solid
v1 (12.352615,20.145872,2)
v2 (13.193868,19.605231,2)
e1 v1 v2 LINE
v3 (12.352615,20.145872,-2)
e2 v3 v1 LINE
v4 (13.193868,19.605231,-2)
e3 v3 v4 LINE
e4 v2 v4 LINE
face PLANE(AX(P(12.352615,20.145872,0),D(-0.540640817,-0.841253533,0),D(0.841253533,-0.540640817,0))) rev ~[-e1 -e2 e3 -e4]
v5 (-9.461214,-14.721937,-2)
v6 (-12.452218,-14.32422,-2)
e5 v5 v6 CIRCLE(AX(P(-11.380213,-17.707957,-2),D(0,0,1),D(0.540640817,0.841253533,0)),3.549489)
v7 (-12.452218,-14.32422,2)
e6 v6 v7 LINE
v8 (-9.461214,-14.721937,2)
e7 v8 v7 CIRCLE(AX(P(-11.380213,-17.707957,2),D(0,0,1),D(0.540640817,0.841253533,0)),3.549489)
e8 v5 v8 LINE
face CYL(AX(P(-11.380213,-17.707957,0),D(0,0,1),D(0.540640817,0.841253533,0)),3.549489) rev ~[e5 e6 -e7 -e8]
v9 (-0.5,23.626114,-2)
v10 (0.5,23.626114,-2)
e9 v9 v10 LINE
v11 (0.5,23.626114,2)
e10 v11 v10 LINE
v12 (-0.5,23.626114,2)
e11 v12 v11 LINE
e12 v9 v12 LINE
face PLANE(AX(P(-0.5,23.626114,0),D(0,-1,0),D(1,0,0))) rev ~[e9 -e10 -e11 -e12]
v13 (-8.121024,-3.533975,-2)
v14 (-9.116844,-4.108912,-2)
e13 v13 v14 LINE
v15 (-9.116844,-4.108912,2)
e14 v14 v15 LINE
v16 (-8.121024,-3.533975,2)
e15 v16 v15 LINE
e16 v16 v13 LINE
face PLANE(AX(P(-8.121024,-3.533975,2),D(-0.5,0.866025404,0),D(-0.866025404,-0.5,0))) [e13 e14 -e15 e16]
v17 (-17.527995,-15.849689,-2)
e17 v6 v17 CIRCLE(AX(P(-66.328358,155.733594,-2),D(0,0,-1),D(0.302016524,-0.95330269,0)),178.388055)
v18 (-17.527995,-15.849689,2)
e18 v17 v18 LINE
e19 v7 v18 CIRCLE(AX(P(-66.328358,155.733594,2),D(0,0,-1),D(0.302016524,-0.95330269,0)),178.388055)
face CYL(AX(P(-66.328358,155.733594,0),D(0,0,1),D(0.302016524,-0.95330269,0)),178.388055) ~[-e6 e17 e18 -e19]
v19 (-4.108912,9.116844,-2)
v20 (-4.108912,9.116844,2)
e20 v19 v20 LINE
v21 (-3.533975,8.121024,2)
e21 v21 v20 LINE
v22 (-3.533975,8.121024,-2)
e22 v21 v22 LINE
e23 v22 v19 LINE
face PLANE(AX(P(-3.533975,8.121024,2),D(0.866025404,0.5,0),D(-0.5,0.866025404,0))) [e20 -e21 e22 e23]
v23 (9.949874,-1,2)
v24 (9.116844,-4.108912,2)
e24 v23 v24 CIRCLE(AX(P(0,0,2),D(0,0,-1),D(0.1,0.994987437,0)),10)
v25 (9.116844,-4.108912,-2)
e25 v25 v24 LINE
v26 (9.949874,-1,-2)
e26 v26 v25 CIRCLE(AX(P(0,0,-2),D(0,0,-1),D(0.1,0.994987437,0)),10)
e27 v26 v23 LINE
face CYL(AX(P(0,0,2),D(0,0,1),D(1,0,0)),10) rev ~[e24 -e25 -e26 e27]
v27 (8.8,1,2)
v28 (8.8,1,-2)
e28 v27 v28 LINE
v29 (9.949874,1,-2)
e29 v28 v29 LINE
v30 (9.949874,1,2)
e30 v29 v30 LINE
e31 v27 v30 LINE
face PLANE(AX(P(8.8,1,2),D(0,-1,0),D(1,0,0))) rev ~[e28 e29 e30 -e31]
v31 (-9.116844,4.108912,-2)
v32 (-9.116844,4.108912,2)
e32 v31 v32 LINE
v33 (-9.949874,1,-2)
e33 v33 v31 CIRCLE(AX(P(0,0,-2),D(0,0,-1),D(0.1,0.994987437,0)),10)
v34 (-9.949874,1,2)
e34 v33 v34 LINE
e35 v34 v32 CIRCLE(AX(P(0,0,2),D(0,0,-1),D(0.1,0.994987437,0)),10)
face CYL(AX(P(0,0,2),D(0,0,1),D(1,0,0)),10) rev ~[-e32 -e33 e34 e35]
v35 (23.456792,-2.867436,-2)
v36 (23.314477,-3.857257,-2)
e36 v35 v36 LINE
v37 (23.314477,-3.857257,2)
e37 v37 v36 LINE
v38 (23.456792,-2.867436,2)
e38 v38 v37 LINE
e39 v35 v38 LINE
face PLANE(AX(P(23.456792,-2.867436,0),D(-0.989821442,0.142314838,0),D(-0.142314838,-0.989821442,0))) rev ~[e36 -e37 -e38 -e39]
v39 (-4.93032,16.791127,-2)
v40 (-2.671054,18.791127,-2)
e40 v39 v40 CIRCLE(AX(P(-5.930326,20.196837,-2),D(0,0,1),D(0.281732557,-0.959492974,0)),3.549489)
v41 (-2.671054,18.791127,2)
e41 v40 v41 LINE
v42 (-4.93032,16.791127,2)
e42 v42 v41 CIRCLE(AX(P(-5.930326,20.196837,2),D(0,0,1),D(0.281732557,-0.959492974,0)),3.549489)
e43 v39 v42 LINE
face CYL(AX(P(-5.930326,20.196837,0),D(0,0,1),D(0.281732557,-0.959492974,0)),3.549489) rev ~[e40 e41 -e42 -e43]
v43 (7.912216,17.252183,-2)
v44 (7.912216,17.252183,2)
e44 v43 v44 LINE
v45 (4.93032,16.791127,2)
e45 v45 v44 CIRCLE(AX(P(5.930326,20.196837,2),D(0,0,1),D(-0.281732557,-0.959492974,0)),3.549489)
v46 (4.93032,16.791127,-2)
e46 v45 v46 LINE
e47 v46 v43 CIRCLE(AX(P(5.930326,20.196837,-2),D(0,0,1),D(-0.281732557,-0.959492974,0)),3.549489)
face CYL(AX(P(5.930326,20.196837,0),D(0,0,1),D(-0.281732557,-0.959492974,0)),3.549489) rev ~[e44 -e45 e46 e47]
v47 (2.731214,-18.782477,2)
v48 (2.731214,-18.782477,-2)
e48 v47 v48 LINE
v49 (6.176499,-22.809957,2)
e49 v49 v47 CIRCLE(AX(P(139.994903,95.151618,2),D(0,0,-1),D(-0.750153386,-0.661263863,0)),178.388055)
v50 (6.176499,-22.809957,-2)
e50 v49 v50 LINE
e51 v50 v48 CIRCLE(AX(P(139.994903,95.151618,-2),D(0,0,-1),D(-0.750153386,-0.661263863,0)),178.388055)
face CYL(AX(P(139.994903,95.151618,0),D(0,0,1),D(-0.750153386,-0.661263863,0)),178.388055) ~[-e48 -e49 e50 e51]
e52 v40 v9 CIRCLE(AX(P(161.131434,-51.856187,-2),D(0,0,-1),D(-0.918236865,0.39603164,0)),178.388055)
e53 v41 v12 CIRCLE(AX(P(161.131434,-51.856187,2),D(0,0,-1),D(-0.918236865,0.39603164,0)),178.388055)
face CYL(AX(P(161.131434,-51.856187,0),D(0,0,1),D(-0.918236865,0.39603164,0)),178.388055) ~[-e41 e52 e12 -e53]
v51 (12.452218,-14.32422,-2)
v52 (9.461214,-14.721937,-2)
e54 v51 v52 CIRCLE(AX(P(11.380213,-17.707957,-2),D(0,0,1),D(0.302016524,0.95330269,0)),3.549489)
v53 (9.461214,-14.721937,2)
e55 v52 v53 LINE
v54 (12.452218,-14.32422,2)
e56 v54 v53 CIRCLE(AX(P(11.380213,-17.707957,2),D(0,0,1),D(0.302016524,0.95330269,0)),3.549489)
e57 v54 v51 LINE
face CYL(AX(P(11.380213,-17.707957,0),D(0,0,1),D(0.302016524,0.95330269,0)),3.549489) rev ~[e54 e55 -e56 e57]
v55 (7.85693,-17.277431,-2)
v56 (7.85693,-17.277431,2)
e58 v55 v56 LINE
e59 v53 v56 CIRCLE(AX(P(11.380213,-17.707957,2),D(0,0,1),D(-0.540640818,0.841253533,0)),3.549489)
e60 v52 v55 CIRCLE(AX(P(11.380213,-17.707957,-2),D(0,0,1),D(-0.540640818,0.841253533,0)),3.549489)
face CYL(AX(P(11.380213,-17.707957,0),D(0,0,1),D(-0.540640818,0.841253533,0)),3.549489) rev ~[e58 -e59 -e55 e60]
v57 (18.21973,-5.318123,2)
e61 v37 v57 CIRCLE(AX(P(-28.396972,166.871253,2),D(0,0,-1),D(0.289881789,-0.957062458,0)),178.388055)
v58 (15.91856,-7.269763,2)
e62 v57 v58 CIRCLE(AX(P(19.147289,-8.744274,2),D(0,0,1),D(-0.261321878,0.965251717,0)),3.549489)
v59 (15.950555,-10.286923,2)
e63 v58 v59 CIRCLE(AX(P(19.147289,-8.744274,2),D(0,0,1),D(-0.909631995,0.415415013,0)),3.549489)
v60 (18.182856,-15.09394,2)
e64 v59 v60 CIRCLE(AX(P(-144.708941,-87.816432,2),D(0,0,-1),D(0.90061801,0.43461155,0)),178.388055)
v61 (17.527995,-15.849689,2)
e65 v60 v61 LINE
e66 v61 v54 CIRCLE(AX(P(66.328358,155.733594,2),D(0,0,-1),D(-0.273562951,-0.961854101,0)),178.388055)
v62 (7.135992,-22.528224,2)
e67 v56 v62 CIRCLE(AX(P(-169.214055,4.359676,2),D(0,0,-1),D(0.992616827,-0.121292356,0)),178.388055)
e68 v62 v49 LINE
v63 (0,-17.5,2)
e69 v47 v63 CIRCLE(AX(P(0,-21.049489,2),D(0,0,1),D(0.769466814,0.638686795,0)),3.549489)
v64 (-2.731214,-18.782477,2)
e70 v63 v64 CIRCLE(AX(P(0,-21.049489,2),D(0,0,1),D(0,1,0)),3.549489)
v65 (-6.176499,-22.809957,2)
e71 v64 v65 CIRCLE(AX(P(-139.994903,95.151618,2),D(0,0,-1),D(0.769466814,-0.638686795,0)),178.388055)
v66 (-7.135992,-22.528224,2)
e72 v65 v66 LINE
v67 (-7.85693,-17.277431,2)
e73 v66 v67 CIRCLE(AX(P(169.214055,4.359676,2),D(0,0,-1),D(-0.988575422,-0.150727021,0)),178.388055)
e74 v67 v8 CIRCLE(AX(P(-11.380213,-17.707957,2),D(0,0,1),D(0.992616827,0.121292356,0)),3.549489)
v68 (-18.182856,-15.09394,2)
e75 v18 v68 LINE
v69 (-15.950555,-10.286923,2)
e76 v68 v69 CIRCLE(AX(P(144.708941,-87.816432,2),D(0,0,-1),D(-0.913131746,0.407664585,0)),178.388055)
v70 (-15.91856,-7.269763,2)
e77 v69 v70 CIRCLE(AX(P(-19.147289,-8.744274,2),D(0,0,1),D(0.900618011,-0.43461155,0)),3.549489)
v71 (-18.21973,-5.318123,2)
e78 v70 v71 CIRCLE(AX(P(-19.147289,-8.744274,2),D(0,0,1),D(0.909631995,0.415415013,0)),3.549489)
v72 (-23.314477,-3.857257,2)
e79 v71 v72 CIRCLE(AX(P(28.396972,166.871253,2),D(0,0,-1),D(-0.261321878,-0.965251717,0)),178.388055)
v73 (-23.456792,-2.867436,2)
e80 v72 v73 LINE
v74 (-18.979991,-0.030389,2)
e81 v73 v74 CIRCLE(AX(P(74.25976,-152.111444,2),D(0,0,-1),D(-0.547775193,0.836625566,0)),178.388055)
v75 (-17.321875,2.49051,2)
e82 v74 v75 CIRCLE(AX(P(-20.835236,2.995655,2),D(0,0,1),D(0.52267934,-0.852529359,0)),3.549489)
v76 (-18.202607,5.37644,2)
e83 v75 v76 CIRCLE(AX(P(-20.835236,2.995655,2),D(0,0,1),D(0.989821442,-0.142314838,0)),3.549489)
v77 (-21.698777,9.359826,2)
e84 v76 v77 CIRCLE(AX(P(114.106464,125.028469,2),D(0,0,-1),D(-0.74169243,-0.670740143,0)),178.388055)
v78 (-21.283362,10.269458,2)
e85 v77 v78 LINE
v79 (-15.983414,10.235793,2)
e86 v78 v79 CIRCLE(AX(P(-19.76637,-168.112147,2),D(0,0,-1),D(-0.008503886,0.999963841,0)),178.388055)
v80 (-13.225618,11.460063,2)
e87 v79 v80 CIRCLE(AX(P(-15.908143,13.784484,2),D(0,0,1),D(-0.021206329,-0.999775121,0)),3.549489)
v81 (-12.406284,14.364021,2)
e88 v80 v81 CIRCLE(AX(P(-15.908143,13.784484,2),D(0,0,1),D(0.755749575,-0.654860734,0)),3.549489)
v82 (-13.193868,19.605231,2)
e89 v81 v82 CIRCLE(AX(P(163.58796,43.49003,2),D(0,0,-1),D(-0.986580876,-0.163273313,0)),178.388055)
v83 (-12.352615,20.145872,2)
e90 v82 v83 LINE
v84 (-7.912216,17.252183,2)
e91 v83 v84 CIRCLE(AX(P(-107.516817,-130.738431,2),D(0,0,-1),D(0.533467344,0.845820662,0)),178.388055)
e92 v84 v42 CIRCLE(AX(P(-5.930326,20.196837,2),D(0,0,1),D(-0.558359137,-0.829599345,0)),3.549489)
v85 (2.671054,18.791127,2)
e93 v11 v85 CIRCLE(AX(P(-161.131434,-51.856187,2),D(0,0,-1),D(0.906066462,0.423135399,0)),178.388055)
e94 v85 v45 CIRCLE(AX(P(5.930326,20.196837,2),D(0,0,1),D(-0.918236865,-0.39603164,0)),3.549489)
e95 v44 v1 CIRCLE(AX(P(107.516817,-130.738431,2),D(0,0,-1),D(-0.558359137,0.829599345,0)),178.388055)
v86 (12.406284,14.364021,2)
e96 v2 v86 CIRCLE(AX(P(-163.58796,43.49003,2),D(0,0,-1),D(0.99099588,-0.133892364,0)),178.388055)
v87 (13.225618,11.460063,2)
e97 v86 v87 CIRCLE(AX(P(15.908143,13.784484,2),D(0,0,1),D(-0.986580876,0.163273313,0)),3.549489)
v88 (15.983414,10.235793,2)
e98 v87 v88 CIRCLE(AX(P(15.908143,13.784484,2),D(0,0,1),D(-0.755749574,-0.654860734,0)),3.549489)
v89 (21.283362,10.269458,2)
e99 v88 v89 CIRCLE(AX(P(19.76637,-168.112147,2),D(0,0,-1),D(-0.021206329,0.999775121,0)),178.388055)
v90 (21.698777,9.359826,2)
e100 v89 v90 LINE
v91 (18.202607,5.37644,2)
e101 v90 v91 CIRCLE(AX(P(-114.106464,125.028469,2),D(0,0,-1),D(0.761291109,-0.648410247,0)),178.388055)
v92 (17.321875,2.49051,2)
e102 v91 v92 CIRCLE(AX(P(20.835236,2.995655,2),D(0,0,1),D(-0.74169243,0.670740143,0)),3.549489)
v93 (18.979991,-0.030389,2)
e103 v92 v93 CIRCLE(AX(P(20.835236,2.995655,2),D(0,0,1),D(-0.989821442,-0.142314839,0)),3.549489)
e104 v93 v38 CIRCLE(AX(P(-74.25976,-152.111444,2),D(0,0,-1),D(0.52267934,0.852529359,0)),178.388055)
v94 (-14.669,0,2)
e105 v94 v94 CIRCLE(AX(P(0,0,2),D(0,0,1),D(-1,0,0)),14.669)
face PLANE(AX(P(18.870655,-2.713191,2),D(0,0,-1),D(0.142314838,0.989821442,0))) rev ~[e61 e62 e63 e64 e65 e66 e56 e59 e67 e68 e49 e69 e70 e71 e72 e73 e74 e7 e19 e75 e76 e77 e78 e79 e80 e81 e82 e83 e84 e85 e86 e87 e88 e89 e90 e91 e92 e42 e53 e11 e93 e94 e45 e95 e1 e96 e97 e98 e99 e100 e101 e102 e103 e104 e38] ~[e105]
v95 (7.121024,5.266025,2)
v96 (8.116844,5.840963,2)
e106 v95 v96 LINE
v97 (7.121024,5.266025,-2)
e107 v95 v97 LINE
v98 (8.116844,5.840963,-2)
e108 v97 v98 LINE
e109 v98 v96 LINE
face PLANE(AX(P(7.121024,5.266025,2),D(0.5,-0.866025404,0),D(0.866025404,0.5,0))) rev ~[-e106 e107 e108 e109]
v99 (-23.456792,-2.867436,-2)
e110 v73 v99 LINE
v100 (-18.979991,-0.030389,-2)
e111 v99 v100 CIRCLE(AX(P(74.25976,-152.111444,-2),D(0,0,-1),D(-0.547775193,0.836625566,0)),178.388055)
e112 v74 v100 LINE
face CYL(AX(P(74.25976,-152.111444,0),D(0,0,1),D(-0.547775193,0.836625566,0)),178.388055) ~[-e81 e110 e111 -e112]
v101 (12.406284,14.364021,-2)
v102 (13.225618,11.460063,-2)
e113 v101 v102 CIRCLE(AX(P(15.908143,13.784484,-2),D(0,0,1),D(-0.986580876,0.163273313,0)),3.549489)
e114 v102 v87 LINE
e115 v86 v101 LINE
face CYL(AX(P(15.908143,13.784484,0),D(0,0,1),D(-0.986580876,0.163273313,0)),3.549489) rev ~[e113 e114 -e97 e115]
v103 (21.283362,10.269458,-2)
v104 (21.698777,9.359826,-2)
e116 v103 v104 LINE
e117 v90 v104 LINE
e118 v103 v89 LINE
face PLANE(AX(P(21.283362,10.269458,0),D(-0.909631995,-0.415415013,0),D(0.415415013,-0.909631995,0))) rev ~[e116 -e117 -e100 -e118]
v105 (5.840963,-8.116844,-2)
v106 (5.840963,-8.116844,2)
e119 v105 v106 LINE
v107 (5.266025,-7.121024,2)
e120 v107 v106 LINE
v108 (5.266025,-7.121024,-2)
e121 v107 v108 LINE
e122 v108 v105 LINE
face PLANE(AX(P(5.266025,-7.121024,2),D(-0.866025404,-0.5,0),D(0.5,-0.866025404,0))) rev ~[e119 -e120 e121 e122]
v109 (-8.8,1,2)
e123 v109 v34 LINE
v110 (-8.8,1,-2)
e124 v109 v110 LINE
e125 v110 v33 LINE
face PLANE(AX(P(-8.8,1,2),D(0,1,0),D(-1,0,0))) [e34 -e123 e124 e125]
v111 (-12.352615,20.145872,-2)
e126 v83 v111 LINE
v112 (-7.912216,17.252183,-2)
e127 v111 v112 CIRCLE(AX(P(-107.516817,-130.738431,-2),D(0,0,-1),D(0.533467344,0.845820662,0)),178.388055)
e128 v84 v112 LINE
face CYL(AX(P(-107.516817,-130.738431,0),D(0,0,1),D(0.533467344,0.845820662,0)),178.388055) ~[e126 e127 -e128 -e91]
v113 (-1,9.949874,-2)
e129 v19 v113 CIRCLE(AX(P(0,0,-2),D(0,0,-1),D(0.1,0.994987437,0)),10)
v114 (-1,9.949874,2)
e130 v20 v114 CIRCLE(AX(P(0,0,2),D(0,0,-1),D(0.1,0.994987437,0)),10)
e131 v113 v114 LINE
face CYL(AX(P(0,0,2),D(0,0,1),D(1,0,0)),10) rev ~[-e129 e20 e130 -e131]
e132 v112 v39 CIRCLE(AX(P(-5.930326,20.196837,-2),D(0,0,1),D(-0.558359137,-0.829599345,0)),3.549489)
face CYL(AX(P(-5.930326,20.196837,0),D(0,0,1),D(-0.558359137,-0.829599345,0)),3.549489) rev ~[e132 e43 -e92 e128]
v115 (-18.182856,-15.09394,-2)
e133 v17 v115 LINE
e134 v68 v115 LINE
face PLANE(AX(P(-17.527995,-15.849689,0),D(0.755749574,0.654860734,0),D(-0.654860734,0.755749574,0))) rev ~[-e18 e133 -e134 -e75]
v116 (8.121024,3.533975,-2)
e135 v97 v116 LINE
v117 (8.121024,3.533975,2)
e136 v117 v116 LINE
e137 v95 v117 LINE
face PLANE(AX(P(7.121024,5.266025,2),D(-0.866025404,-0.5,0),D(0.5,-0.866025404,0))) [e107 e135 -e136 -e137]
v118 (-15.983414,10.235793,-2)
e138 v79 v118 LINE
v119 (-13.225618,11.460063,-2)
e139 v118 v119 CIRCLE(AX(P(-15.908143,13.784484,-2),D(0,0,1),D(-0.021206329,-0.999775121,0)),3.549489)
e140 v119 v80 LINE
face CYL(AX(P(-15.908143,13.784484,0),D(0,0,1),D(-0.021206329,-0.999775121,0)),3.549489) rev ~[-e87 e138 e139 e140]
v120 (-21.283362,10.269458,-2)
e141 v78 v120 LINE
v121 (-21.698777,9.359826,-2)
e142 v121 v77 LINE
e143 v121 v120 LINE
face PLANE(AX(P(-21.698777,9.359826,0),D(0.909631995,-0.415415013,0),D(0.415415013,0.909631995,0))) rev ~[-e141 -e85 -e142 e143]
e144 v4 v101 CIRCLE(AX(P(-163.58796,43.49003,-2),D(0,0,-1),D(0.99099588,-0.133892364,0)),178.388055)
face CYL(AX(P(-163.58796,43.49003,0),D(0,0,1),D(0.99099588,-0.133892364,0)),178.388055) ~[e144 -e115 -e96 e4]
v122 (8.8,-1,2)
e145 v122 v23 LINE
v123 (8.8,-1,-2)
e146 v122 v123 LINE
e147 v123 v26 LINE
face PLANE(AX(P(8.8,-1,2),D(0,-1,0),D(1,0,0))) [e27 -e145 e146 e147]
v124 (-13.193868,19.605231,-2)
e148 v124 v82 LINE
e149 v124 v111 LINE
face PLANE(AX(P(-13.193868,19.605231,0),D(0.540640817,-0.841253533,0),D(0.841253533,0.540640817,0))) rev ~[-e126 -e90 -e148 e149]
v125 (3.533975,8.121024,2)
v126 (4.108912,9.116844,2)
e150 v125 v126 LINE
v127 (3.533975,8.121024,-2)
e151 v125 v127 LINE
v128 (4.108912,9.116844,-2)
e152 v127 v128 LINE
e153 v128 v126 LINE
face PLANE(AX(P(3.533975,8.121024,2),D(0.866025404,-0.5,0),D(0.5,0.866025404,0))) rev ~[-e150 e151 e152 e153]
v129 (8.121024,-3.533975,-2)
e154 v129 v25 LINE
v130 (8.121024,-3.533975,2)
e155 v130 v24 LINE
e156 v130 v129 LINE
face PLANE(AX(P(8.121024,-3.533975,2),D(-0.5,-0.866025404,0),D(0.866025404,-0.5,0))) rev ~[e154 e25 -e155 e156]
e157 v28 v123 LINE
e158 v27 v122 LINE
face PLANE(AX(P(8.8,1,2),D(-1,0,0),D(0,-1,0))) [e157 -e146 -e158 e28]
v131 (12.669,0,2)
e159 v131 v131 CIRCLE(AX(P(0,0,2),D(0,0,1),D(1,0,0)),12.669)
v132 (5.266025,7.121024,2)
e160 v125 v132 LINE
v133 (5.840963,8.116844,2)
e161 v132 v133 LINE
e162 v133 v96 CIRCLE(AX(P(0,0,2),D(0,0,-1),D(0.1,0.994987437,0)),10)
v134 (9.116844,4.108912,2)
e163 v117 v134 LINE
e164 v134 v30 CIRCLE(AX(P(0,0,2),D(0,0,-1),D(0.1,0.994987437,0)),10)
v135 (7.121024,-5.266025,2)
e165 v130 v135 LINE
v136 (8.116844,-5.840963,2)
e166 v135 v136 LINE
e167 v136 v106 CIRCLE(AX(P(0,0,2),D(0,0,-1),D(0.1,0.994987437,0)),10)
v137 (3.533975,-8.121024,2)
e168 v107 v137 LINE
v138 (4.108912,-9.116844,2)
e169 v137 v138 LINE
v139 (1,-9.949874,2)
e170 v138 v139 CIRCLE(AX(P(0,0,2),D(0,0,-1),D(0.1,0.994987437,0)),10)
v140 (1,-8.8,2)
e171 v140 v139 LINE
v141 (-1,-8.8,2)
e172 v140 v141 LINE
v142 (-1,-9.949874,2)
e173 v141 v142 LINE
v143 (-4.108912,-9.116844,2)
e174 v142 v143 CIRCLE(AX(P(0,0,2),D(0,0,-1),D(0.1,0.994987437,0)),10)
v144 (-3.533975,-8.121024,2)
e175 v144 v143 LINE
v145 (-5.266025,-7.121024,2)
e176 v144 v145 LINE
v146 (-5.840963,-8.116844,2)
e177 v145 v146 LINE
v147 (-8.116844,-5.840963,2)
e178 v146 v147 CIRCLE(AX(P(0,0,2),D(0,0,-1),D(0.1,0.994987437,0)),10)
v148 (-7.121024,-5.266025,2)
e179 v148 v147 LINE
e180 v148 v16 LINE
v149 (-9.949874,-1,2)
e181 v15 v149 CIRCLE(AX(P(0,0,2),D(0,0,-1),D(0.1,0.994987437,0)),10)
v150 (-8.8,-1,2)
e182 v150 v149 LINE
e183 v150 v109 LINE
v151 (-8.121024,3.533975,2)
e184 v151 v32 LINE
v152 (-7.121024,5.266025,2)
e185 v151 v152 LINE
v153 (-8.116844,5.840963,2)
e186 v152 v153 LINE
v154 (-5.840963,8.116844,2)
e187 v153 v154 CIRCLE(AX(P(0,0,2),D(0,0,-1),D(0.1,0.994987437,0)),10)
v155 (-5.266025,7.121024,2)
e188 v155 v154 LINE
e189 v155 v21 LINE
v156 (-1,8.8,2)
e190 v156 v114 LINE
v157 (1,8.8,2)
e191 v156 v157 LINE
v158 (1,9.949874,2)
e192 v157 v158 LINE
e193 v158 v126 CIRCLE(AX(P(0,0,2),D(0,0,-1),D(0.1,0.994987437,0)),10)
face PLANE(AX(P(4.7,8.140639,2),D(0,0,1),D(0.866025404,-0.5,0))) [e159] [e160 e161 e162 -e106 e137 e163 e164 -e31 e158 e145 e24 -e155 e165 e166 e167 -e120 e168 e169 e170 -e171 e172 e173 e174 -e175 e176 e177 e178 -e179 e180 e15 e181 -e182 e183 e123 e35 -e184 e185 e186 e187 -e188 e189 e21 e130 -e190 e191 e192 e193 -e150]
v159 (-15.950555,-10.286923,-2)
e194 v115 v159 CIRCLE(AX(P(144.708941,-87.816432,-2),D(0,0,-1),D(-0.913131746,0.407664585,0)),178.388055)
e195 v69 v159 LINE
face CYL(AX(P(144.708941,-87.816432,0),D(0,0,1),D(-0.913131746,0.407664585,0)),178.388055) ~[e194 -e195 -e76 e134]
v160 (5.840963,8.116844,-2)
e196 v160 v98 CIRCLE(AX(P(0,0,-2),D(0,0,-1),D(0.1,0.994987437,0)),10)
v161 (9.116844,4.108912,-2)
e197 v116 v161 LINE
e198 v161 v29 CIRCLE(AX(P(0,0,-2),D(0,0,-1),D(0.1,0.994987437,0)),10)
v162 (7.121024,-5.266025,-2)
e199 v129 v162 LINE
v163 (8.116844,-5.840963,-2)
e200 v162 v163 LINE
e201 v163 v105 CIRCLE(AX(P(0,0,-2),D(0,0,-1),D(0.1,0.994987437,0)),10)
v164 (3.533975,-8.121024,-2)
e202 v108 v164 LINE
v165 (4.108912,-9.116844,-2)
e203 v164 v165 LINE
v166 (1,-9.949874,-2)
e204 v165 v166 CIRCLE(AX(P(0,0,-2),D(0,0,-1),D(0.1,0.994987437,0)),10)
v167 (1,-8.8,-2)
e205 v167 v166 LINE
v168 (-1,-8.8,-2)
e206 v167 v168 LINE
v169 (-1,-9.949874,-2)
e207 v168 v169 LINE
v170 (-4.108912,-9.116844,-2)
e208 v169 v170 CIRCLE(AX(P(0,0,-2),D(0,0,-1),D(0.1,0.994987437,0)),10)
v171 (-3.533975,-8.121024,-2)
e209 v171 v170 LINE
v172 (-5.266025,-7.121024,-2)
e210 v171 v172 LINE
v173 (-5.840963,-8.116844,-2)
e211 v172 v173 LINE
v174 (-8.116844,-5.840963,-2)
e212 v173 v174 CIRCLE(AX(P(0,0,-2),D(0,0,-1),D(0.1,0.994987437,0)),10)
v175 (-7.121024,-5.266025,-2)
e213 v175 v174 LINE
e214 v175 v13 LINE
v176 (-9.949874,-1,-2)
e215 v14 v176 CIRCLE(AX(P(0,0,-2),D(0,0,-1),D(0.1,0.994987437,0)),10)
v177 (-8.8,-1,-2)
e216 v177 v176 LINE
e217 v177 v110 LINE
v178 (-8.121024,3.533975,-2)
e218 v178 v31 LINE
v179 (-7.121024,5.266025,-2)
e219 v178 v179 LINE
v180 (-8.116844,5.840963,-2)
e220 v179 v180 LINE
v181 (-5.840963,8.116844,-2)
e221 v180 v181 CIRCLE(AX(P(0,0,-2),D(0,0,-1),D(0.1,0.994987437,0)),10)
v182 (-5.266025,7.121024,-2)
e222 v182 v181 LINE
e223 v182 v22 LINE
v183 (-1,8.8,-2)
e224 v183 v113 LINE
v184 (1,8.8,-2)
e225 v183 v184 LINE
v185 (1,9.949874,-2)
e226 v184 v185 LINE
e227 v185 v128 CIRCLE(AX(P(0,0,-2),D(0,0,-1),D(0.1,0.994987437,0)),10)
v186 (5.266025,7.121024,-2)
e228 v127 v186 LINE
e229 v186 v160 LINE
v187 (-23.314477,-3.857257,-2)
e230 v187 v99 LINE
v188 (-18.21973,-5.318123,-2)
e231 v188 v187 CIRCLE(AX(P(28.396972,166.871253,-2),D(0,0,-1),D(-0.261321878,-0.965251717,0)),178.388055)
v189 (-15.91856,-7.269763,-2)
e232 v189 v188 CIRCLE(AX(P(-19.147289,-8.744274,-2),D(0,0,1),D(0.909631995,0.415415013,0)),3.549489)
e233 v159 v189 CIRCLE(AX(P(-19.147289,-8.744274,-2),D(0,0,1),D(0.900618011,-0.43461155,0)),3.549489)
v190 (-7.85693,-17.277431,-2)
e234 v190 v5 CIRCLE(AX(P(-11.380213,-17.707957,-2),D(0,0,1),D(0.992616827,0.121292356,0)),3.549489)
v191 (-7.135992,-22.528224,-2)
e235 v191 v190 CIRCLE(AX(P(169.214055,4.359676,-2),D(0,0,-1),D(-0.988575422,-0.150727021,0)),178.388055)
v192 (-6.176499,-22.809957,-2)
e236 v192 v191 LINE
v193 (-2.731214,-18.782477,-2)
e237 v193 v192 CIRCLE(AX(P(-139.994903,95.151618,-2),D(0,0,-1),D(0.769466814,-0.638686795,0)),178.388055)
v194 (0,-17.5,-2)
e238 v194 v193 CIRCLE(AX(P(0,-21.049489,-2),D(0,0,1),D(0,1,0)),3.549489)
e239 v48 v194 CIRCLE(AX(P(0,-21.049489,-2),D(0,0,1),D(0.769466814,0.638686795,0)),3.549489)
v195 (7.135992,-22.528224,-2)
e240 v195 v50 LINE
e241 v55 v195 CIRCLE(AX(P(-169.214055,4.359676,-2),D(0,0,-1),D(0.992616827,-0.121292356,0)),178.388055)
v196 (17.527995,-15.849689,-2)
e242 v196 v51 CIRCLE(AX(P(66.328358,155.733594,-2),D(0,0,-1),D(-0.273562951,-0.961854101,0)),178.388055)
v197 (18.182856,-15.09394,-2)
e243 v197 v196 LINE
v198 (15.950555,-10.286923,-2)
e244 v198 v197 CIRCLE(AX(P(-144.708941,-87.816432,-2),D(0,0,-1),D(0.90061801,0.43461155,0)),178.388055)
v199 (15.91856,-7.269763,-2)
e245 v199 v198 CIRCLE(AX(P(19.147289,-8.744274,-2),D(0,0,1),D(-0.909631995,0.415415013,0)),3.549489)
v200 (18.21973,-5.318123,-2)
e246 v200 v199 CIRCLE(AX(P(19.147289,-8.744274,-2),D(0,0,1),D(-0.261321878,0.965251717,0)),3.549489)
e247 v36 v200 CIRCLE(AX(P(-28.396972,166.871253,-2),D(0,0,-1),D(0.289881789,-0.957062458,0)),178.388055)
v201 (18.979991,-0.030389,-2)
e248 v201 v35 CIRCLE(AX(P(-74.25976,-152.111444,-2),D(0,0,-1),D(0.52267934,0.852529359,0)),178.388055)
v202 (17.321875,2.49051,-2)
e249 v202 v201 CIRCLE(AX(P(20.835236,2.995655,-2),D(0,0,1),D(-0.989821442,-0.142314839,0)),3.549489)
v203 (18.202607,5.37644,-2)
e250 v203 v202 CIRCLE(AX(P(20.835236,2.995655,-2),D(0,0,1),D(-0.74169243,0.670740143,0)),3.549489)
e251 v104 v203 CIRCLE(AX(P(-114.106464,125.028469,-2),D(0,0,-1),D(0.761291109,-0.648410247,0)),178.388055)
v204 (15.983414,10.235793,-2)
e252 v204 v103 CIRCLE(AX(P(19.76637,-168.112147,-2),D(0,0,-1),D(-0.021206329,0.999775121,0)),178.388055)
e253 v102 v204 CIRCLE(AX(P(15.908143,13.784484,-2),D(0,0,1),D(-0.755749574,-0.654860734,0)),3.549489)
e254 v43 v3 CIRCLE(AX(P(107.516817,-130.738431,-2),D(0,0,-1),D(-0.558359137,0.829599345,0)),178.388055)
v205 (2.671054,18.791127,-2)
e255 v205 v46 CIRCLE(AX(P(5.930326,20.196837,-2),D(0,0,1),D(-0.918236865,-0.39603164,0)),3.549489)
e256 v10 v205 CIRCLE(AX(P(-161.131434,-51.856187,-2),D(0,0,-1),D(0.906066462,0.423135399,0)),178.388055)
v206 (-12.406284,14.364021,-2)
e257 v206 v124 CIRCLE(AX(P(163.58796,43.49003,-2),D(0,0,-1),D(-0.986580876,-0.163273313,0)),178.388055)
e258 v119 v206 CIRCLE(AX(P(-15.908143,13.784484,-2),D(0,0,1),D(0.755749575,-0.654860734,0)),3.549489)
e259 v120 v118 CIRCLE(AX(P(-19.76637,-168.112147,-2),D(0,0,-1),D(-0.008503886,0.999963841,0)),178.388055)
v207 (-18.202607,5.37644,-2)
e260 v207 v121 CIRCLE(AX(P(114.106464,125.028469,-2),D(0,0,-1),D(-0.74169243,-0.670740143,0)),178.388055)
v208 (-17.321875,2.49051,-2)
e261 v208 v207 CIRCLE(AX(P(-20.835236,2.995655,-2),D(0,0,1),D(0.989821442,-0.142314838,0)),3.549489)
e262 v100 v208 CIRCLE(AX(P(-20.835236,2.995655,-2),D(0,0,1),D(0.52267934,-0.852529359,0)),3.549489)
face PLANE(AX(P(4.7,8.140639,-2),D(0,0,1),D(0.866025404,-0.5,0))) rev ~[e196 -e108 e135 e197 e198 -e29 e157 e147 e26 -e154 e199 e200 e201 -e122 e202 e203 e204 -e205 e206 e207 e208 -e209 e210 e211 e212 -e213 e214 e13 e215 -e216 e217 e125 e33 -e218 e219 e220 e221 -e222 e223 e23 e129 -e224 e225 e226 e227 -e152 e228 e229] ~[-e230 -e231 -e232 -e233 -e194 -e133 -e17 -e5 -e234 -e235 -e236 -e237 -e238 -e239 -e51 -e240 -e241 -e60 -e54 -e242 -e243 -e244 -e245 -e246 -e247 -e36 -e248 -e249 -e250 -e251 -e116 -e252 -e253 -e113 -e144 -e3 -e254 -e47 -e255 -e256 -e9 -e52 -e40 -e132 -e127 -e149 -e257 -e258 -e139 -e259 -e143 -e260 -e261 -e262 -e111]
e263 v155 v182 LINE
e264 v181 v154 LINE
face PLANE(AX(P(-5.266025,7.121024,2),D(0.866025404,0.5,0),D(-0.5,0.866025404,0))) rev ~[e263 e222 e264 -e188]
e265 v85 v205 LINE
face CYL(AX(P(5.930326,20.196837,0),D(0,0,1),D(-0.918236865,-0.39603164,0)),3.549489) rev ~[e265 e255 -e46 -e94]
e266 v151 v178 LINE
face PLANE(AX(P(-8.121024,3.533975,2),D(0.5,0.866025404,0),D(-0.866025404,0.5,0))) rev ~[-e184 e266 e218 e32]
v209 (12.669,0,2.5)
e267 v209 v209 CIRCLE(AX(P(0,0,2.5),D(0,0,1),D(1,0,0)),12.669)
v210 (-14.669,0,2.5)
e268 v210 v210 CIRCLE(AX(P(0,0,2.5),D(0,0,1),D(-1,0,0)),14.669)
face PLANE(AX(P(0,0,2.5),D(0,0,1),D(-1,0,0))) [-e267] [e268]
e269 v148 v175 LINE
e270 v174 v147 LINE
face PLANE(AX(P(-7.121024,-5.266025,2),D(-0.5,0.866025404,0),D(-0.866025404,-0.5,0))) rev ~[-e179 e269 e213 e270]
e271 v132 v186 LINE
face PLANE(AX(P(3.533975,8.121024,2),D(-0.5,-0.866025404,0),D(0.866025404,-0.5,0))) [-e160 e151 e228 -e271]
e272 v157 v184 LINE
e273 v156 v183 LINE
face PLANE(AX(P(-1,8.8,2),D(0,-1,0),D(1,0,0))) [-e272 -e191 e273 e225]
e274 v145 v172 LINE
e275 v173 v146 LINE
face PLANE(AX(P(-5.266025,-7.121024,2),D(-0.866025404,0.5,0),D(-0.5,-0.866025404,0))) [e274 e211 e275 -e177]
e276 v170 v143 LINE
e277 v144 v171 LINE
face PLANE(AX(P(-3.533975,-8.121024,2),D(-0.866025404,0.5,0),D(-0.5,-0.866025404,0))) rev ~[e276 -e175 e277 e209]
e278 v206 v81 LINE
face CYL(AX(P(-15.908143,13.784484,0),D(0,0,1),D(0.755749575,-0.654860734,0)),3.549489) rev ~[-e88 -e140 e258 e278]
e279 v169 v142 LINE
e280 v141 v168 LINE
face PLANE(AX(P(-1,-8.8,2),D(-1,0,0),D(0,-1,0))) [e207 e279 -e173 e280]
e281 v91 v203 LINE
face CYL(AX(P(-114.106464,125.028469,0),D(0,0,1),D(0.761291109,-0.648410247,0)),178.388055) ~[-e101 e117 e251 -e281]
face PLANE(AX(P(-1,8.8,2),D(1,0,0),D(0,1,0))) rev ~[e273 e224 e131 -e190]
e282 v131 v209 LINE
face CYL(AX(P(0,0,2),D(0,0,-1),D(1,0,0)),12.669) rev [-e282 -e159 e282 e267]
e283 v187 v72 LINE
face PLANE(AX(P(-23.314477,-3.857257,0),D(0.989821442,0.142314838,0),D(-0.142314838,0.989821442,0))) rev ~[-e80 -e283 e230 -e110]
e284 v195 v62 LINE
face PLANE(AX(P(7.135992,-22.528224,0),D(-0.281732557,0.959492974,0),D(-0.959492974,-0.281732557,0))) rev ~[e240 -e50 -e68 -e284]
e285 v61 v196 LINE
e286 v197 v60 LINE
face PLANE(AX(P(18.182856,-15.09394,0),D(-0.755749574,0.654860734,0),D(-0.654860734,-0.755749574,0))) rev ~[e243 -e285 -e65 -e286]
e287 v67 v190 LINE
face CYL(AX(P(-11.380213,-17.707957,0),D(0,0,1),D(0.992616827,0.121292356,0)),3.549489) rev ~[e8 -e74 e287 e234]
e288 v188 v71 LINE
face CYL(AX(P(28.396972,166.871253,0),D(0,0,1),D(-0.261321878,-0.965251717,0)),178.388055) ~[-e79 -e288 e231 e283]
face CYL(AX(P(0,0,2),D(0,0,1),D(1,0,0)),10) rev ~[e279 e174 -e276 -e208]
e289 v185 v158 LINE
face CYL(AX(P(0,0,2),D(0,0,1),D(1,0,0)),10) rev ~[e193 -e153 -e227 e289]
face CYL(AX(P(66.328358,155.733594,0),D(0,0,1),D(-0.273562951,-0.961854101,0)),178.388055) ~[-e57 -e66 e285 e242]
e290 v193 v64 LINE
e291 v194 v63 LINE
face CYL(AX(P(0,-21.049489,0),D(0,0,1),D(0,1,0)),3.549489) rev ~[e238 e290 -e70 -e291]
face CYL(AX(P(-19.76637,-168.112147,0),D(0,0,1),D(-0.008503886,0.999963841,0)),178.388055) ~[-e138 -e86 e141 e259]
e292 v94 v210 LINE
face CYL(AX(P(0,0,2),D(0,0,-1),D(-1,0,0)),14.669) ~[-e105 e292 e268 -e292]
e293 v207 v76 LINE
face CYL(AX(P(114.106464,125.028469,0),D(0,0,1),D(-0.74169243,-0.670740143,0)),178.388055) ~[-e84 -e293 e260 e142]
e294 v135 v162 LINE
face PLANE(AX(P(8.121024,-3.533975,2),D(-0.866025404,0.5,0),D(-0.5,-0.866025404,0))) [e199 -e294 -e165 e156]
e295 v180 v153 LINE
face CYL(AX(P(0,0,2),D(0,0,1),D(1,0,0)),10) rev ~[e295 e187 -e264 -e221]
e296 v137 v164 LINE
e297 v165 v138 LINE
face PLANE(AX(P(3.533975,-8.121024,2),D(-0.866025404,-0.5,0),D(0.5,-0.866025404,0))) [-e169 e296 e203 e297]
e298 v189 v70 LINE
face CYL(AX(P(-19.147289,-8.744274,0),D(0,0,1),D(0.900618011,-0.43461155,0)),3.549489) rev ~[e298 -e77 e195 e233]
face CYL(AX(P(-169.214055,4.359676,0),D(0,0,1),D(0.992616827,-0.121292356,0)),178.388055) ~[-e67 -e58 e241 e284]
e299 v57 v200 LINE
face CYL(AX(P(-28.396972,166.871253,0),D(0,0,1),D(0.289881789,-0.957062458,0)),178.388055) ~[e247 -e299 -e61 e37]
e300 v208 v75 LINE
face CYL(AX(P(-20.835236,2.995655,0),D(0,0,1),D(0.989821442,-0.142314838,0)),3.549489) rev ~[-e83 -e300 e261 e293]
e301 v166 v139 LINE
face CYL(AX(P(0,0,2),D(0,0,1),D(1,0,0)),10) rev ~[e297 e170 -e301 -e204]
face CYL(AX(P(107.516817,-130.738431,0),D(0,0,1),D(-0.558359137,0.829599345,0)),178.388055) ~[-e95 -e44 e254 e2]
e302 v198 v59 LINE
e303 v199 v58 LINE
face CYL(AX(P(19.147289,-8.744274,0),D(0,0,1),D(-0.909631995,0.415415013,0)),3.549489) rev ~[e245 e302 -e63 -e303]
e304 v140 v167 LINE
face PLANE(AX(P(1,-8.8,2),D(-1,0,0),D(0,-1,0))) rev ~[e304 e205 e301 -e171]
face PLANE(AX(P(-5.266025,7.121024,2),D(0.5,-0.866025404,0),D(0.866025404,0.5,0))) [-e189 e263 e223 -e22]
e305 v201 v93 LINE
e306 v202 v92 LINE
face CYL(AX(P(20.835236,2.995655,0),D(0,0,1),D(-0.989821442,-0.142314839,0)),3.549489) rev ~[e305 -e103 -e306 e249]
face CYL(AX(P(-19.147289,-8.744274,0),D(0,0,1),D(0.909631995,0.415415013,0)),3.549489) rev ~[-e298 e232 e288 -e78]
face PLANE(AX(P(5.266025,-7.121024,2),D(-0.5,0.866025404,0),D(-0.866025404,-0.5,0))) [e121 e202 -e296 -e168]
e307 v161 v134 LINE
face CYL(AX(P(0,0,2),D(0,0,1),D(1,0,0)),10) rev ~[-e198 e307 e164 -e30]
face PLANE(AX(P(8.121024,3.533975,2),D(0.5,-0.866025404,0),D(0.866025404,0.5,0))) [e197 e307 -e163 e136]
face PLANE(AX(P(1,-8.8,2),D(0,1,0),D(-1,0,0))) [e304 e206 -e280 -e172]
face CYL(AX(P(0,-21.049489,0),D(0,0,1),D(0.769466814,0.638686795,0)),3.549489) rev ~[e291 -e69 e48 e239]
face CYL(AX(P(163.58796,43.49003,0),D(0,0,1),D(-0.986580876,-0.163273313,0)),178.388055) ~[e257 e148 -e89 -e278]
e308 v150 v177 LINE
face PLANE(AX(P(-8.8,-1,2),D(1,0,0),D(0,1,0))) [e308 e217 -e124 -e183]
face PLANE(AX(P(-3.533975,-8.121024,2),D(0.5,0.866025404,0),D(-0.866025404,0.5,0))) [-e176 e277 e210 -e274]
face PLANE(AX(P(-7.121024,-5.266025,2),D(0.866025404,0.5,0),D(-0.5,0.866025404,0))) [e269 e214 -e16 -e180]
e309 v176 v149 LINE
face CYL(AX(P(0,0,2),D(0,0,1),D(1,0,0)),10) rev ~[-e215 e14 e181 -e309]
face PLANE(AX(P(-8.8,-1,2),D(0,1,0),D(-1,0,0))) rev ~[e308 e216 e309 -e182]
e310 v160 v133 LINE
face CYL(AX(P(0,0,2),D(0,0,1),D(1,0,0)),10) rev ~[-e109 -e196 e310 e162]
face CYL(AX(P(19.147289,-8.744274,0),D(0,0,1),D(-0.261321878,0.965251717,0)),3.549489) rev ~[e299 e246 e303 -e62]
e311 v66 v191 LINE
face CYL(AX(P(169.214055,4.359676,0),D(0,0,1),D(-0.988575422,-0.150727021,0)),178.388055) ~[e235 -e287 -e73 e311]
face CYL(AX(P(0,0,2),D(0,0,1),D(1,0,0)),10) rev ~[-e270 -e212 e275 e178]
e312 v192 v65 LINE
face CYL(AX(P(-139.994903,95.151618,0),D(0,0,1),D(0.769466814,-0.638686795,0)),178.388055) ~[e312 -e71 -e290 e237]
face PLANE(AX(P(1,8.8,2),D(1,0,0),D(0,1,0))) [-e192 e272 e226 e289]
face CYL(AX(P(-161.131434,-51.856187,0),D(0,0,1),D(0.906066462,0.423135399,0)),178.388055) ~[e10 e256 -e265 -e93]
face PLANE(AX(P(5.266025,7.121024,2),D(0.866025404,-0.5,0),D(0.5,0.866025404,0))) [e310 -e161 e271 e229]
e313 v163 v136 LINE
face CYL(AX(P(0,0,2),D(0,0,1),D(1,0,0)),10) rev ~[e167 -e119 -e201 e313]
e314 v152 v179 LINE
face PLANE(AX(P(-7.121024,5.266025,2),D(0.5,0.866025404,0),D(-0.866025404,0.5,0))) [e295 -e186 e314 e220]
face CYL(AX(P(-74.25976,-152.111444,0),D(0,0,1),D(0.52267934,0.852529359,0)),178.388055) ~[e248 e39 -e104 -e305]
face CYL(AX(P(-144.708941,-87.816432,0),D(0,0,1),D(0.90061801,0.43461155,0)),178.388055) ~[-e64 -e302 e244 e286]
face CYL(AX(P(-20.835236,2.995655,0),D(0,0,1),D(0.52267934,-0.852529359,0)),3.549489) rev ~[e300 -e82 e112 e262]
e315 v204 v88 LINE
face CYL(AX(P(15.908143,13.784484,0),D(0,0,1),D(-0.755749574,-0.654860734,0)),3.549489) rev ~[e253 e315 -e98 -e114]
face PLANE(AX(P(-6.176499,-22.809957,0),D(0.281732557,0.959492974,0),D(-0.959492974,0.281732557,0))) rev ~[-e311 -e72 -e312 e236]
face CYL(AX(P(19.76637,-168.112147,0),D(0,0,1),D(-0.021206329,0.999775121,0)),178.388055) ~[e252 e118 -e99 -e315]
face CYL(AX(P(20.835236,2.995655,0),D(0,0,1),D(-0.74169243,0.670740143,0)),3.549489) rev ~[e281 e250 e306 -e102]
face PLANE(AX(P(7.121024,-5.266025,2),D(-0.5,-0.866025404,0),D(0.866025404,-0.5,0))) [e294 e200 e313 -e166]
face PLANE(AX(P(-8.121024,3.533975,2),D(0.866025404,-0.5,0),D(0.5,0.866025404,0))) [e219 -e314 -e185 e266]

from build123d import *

# Parameters (mm, degrees)
BOSS_EXTRUDE1_DEPTH      = 2
CIRPATTERN1_COUNT        = 11
BOSS_EXTRUDE2_DEPTH      = 2
BOSS_EXTRUDE2_DEPTH_BACK = 2
SKETCH4_R                = 17.5
SKETCH6_R                = 14.669
SKETCH6_R_2              = 12.669
BOSS_EXTRUDE4_DEPTH      = 0.5
SKETCH7_R                = 10
CUT_EXTRUDE1_DEPTH       = 4
SKETCH8_W                = 2
SKETCH8_H                = 1.2
BOSS_EXTRUDE5_DEPTH      = 4
CIRPATTERN2_COUNT        = 12


with BuildPart() as part:
    # Sketch2 → Boss-Extrude1 (new, symmetric)
    with BuildSketch(Plane.XY):
        with BuildLine():
            Line((-0.5, 23.626113967), (0.5, 23.626113967))
            ThreePointArc((0.5, 23.626113967), (1.603484659, 21.216683922), (2.671054487, 18.791127038))
            ThreePointArc((2.671054487, 18.791127038), (3.577591086, 17.539110484), (4.930319745, 16.791127038))
            ThreePointArc((4.930319745, 16.791127038), (0, 17.5), (-4.930319745, 16.791127038))
            ThreePointArc((-4.930319745, 16.791127038), (-3.577591086, 17.539110484), (-2.671054487, 18.791127038))
            ThreePointArc((-2.671054487, 18.791127038), (-1.603484659, 21.216683922), (-0.5, 23.626113967))
        make_face()
    extrude(amount=BOSS_EXTRUDE1_DEPTH, both=True)


with BuildPart() as cirpattern1_1:
    # CirPattern1: pattern copy
    add(part.part.rotate(Axis((0, 0, 0), (0, 0, 1)), 1 * 360 / CIRPATTERN1_COUNT))


with BuildPart() as cirpattern1_2:
    # CirPattern1: pattern copy
    add(part.part.rotate(Axis((0, 0, 0), (0, 0, 1)), 2 * 360 / CIRPATTERN1_COUNT))


with BuildPart() as cirpattern1_3:
    # CirPattern1: pattern copy
    add(part.part.rotate(Axis((0, 0, 0), (0, 0, 1)), 3 * 360 / CIRPATTERN1_COUNT))


with BuildPart() as cirpattern1_4:
    # CirPattern1: pattern copy
    add(part.part.rotate(Axis((0, 0, 0), (0, 0, 1)), 4 * 360 / CIRPATTERN1_COUNT))


with BuildPart() as cirpattern1_5:
    # CirPattern1: pattern copy
    add(part.part.rotate(Axis((0, 0, 0), (0, 0, 1)), 5 * 360 / CIRPATTERN1_COUNT))


with BuildPart() as cirpattern1_6:
    # CirPattern1: pattern copy
    add(part.part.rotate(Axis((0, 0, 0), (0, 0, 1)), 6 * 360 / CIRPATTERN1_COUNT))


with BuildPart() as cirpattern1_7:
    # CirPattern1: pattern copy
    add(part.part.rotate(Axis((0, 0, 0), (0, 0, 1)), 7 * 360 / CIRPATTERN1_COUNT))


with BuildPart() as cirpattern1_8:
    # CirPattern1: pattern copy
    add(part.part.rotate(Axis((0, 0, 0), (0, 0, 1)), 8 * 360 / CIRPATTERN1_COUNT))


with BuildPart() as cirpattern1_9:
    # CirPattern1: pattern copy
    add(part.part.rotate(Axis((0, 0, 0), (0, 0, 1)), 9 * 360 / CIRPATTERN1_COUNT))


with BuildPart() as cirpattern1_10:
    # CirPattern1: pattern copy
    add(part.part.rotate(Axis((0, 0, 0), (0, 0, 1)), 10 * 360 / CIRPATTERN1_COUNT))


with BuildPart() as part_1:
    add(part.part)

    add(cirpattern1_1.part)  # Boss-Extrude2 merges CirPattern1_1

    add(cirpattern1_2.part)  # Boss-Extrude2 merges CirPattern1_2

    add(cirpattern1_3.part)  # Boss-Extrude2 merges CirPattern1_3

    add(cirpattern1_4.part)  # Boss-Extrude2 merges CirPattern1_4

    add(cirpattern1_5.part)  # Boss-Extrude2 merges CirPattern1_5

    add(cirpattern1_6.part)  # Boss-Extrude2 merges CirPattern1_6

    add(cirpattern1_7.part)  # Boss-Extrude2 merges CirPattern1_7

    add(cirpattern1_8.part)  # Boss-Extrude2 merges CirPattern1_8

    add(cirpattern1_9.part)  # Boss-Extrude2 merges CirPattern1_9

    add(cirpattern1_10.part)  # Boss-Extrude2 merges CirPattern1_10
    # Sketch4 → Boss-Extrude2 (add, two sides: drawn at the far end of the back side and taken through both)
    with BuildSketch(Plane.XY.offset(-BOSS_EXTRUDE2_DEPTH_BACK)):
        Circle(SKETCH4_R)
    extrude(amount=BOSS_EXTRUDE2_DEPTH + BOSS_EXTRUDE2_DEPTH_BACK)

    # Sketch6 → Boss-Extrude4 (add)
    with BuildSketch(Plane.XY.offset(2)):
        with Locations(Location((0, 0, 0), (0, 0, 180))):
            Circle(SKETCH6_R)
        Circle(SKETCH6_R_2, mode=Mode.SUBTRACT)
    extrude(amount=BOSS_EXTRUDE4_DEPTH)

    # Sketch7 → Cut-Extrude1 (cut)
    with BuildSketch(Plane.XY.offset(2)):
        Circle(SKETCH7_R)
    extrude(amount=-CUT_EXTRUDE1_DEPTH, mode=Mode.SUBTRACT)

    # Sketch8 → Boss-Extrude5 (add)
    with BuildSketch(Plane.XY.offset(2)):
        with Locations((0, 9.4)):
            Rectangle(SKETCH8_W, SKETCH8_H)
    boss_extrude5 = extrude(amount=-BOSS_EXTRUDE5_DEPTH)

    # CirPattern2: Boss-Extrude5 ×12 about axis
    cirpattern2_axis = Axis((0, 0, 0), (0, 0, 1))
    for i in range(1, CIRPATTERN2_COUNT):
        add(boss_extrude5.rotate(cirpattern2_axis, i * 360 / CIRPATTERN2_COUNT))


solid = part_1.part
